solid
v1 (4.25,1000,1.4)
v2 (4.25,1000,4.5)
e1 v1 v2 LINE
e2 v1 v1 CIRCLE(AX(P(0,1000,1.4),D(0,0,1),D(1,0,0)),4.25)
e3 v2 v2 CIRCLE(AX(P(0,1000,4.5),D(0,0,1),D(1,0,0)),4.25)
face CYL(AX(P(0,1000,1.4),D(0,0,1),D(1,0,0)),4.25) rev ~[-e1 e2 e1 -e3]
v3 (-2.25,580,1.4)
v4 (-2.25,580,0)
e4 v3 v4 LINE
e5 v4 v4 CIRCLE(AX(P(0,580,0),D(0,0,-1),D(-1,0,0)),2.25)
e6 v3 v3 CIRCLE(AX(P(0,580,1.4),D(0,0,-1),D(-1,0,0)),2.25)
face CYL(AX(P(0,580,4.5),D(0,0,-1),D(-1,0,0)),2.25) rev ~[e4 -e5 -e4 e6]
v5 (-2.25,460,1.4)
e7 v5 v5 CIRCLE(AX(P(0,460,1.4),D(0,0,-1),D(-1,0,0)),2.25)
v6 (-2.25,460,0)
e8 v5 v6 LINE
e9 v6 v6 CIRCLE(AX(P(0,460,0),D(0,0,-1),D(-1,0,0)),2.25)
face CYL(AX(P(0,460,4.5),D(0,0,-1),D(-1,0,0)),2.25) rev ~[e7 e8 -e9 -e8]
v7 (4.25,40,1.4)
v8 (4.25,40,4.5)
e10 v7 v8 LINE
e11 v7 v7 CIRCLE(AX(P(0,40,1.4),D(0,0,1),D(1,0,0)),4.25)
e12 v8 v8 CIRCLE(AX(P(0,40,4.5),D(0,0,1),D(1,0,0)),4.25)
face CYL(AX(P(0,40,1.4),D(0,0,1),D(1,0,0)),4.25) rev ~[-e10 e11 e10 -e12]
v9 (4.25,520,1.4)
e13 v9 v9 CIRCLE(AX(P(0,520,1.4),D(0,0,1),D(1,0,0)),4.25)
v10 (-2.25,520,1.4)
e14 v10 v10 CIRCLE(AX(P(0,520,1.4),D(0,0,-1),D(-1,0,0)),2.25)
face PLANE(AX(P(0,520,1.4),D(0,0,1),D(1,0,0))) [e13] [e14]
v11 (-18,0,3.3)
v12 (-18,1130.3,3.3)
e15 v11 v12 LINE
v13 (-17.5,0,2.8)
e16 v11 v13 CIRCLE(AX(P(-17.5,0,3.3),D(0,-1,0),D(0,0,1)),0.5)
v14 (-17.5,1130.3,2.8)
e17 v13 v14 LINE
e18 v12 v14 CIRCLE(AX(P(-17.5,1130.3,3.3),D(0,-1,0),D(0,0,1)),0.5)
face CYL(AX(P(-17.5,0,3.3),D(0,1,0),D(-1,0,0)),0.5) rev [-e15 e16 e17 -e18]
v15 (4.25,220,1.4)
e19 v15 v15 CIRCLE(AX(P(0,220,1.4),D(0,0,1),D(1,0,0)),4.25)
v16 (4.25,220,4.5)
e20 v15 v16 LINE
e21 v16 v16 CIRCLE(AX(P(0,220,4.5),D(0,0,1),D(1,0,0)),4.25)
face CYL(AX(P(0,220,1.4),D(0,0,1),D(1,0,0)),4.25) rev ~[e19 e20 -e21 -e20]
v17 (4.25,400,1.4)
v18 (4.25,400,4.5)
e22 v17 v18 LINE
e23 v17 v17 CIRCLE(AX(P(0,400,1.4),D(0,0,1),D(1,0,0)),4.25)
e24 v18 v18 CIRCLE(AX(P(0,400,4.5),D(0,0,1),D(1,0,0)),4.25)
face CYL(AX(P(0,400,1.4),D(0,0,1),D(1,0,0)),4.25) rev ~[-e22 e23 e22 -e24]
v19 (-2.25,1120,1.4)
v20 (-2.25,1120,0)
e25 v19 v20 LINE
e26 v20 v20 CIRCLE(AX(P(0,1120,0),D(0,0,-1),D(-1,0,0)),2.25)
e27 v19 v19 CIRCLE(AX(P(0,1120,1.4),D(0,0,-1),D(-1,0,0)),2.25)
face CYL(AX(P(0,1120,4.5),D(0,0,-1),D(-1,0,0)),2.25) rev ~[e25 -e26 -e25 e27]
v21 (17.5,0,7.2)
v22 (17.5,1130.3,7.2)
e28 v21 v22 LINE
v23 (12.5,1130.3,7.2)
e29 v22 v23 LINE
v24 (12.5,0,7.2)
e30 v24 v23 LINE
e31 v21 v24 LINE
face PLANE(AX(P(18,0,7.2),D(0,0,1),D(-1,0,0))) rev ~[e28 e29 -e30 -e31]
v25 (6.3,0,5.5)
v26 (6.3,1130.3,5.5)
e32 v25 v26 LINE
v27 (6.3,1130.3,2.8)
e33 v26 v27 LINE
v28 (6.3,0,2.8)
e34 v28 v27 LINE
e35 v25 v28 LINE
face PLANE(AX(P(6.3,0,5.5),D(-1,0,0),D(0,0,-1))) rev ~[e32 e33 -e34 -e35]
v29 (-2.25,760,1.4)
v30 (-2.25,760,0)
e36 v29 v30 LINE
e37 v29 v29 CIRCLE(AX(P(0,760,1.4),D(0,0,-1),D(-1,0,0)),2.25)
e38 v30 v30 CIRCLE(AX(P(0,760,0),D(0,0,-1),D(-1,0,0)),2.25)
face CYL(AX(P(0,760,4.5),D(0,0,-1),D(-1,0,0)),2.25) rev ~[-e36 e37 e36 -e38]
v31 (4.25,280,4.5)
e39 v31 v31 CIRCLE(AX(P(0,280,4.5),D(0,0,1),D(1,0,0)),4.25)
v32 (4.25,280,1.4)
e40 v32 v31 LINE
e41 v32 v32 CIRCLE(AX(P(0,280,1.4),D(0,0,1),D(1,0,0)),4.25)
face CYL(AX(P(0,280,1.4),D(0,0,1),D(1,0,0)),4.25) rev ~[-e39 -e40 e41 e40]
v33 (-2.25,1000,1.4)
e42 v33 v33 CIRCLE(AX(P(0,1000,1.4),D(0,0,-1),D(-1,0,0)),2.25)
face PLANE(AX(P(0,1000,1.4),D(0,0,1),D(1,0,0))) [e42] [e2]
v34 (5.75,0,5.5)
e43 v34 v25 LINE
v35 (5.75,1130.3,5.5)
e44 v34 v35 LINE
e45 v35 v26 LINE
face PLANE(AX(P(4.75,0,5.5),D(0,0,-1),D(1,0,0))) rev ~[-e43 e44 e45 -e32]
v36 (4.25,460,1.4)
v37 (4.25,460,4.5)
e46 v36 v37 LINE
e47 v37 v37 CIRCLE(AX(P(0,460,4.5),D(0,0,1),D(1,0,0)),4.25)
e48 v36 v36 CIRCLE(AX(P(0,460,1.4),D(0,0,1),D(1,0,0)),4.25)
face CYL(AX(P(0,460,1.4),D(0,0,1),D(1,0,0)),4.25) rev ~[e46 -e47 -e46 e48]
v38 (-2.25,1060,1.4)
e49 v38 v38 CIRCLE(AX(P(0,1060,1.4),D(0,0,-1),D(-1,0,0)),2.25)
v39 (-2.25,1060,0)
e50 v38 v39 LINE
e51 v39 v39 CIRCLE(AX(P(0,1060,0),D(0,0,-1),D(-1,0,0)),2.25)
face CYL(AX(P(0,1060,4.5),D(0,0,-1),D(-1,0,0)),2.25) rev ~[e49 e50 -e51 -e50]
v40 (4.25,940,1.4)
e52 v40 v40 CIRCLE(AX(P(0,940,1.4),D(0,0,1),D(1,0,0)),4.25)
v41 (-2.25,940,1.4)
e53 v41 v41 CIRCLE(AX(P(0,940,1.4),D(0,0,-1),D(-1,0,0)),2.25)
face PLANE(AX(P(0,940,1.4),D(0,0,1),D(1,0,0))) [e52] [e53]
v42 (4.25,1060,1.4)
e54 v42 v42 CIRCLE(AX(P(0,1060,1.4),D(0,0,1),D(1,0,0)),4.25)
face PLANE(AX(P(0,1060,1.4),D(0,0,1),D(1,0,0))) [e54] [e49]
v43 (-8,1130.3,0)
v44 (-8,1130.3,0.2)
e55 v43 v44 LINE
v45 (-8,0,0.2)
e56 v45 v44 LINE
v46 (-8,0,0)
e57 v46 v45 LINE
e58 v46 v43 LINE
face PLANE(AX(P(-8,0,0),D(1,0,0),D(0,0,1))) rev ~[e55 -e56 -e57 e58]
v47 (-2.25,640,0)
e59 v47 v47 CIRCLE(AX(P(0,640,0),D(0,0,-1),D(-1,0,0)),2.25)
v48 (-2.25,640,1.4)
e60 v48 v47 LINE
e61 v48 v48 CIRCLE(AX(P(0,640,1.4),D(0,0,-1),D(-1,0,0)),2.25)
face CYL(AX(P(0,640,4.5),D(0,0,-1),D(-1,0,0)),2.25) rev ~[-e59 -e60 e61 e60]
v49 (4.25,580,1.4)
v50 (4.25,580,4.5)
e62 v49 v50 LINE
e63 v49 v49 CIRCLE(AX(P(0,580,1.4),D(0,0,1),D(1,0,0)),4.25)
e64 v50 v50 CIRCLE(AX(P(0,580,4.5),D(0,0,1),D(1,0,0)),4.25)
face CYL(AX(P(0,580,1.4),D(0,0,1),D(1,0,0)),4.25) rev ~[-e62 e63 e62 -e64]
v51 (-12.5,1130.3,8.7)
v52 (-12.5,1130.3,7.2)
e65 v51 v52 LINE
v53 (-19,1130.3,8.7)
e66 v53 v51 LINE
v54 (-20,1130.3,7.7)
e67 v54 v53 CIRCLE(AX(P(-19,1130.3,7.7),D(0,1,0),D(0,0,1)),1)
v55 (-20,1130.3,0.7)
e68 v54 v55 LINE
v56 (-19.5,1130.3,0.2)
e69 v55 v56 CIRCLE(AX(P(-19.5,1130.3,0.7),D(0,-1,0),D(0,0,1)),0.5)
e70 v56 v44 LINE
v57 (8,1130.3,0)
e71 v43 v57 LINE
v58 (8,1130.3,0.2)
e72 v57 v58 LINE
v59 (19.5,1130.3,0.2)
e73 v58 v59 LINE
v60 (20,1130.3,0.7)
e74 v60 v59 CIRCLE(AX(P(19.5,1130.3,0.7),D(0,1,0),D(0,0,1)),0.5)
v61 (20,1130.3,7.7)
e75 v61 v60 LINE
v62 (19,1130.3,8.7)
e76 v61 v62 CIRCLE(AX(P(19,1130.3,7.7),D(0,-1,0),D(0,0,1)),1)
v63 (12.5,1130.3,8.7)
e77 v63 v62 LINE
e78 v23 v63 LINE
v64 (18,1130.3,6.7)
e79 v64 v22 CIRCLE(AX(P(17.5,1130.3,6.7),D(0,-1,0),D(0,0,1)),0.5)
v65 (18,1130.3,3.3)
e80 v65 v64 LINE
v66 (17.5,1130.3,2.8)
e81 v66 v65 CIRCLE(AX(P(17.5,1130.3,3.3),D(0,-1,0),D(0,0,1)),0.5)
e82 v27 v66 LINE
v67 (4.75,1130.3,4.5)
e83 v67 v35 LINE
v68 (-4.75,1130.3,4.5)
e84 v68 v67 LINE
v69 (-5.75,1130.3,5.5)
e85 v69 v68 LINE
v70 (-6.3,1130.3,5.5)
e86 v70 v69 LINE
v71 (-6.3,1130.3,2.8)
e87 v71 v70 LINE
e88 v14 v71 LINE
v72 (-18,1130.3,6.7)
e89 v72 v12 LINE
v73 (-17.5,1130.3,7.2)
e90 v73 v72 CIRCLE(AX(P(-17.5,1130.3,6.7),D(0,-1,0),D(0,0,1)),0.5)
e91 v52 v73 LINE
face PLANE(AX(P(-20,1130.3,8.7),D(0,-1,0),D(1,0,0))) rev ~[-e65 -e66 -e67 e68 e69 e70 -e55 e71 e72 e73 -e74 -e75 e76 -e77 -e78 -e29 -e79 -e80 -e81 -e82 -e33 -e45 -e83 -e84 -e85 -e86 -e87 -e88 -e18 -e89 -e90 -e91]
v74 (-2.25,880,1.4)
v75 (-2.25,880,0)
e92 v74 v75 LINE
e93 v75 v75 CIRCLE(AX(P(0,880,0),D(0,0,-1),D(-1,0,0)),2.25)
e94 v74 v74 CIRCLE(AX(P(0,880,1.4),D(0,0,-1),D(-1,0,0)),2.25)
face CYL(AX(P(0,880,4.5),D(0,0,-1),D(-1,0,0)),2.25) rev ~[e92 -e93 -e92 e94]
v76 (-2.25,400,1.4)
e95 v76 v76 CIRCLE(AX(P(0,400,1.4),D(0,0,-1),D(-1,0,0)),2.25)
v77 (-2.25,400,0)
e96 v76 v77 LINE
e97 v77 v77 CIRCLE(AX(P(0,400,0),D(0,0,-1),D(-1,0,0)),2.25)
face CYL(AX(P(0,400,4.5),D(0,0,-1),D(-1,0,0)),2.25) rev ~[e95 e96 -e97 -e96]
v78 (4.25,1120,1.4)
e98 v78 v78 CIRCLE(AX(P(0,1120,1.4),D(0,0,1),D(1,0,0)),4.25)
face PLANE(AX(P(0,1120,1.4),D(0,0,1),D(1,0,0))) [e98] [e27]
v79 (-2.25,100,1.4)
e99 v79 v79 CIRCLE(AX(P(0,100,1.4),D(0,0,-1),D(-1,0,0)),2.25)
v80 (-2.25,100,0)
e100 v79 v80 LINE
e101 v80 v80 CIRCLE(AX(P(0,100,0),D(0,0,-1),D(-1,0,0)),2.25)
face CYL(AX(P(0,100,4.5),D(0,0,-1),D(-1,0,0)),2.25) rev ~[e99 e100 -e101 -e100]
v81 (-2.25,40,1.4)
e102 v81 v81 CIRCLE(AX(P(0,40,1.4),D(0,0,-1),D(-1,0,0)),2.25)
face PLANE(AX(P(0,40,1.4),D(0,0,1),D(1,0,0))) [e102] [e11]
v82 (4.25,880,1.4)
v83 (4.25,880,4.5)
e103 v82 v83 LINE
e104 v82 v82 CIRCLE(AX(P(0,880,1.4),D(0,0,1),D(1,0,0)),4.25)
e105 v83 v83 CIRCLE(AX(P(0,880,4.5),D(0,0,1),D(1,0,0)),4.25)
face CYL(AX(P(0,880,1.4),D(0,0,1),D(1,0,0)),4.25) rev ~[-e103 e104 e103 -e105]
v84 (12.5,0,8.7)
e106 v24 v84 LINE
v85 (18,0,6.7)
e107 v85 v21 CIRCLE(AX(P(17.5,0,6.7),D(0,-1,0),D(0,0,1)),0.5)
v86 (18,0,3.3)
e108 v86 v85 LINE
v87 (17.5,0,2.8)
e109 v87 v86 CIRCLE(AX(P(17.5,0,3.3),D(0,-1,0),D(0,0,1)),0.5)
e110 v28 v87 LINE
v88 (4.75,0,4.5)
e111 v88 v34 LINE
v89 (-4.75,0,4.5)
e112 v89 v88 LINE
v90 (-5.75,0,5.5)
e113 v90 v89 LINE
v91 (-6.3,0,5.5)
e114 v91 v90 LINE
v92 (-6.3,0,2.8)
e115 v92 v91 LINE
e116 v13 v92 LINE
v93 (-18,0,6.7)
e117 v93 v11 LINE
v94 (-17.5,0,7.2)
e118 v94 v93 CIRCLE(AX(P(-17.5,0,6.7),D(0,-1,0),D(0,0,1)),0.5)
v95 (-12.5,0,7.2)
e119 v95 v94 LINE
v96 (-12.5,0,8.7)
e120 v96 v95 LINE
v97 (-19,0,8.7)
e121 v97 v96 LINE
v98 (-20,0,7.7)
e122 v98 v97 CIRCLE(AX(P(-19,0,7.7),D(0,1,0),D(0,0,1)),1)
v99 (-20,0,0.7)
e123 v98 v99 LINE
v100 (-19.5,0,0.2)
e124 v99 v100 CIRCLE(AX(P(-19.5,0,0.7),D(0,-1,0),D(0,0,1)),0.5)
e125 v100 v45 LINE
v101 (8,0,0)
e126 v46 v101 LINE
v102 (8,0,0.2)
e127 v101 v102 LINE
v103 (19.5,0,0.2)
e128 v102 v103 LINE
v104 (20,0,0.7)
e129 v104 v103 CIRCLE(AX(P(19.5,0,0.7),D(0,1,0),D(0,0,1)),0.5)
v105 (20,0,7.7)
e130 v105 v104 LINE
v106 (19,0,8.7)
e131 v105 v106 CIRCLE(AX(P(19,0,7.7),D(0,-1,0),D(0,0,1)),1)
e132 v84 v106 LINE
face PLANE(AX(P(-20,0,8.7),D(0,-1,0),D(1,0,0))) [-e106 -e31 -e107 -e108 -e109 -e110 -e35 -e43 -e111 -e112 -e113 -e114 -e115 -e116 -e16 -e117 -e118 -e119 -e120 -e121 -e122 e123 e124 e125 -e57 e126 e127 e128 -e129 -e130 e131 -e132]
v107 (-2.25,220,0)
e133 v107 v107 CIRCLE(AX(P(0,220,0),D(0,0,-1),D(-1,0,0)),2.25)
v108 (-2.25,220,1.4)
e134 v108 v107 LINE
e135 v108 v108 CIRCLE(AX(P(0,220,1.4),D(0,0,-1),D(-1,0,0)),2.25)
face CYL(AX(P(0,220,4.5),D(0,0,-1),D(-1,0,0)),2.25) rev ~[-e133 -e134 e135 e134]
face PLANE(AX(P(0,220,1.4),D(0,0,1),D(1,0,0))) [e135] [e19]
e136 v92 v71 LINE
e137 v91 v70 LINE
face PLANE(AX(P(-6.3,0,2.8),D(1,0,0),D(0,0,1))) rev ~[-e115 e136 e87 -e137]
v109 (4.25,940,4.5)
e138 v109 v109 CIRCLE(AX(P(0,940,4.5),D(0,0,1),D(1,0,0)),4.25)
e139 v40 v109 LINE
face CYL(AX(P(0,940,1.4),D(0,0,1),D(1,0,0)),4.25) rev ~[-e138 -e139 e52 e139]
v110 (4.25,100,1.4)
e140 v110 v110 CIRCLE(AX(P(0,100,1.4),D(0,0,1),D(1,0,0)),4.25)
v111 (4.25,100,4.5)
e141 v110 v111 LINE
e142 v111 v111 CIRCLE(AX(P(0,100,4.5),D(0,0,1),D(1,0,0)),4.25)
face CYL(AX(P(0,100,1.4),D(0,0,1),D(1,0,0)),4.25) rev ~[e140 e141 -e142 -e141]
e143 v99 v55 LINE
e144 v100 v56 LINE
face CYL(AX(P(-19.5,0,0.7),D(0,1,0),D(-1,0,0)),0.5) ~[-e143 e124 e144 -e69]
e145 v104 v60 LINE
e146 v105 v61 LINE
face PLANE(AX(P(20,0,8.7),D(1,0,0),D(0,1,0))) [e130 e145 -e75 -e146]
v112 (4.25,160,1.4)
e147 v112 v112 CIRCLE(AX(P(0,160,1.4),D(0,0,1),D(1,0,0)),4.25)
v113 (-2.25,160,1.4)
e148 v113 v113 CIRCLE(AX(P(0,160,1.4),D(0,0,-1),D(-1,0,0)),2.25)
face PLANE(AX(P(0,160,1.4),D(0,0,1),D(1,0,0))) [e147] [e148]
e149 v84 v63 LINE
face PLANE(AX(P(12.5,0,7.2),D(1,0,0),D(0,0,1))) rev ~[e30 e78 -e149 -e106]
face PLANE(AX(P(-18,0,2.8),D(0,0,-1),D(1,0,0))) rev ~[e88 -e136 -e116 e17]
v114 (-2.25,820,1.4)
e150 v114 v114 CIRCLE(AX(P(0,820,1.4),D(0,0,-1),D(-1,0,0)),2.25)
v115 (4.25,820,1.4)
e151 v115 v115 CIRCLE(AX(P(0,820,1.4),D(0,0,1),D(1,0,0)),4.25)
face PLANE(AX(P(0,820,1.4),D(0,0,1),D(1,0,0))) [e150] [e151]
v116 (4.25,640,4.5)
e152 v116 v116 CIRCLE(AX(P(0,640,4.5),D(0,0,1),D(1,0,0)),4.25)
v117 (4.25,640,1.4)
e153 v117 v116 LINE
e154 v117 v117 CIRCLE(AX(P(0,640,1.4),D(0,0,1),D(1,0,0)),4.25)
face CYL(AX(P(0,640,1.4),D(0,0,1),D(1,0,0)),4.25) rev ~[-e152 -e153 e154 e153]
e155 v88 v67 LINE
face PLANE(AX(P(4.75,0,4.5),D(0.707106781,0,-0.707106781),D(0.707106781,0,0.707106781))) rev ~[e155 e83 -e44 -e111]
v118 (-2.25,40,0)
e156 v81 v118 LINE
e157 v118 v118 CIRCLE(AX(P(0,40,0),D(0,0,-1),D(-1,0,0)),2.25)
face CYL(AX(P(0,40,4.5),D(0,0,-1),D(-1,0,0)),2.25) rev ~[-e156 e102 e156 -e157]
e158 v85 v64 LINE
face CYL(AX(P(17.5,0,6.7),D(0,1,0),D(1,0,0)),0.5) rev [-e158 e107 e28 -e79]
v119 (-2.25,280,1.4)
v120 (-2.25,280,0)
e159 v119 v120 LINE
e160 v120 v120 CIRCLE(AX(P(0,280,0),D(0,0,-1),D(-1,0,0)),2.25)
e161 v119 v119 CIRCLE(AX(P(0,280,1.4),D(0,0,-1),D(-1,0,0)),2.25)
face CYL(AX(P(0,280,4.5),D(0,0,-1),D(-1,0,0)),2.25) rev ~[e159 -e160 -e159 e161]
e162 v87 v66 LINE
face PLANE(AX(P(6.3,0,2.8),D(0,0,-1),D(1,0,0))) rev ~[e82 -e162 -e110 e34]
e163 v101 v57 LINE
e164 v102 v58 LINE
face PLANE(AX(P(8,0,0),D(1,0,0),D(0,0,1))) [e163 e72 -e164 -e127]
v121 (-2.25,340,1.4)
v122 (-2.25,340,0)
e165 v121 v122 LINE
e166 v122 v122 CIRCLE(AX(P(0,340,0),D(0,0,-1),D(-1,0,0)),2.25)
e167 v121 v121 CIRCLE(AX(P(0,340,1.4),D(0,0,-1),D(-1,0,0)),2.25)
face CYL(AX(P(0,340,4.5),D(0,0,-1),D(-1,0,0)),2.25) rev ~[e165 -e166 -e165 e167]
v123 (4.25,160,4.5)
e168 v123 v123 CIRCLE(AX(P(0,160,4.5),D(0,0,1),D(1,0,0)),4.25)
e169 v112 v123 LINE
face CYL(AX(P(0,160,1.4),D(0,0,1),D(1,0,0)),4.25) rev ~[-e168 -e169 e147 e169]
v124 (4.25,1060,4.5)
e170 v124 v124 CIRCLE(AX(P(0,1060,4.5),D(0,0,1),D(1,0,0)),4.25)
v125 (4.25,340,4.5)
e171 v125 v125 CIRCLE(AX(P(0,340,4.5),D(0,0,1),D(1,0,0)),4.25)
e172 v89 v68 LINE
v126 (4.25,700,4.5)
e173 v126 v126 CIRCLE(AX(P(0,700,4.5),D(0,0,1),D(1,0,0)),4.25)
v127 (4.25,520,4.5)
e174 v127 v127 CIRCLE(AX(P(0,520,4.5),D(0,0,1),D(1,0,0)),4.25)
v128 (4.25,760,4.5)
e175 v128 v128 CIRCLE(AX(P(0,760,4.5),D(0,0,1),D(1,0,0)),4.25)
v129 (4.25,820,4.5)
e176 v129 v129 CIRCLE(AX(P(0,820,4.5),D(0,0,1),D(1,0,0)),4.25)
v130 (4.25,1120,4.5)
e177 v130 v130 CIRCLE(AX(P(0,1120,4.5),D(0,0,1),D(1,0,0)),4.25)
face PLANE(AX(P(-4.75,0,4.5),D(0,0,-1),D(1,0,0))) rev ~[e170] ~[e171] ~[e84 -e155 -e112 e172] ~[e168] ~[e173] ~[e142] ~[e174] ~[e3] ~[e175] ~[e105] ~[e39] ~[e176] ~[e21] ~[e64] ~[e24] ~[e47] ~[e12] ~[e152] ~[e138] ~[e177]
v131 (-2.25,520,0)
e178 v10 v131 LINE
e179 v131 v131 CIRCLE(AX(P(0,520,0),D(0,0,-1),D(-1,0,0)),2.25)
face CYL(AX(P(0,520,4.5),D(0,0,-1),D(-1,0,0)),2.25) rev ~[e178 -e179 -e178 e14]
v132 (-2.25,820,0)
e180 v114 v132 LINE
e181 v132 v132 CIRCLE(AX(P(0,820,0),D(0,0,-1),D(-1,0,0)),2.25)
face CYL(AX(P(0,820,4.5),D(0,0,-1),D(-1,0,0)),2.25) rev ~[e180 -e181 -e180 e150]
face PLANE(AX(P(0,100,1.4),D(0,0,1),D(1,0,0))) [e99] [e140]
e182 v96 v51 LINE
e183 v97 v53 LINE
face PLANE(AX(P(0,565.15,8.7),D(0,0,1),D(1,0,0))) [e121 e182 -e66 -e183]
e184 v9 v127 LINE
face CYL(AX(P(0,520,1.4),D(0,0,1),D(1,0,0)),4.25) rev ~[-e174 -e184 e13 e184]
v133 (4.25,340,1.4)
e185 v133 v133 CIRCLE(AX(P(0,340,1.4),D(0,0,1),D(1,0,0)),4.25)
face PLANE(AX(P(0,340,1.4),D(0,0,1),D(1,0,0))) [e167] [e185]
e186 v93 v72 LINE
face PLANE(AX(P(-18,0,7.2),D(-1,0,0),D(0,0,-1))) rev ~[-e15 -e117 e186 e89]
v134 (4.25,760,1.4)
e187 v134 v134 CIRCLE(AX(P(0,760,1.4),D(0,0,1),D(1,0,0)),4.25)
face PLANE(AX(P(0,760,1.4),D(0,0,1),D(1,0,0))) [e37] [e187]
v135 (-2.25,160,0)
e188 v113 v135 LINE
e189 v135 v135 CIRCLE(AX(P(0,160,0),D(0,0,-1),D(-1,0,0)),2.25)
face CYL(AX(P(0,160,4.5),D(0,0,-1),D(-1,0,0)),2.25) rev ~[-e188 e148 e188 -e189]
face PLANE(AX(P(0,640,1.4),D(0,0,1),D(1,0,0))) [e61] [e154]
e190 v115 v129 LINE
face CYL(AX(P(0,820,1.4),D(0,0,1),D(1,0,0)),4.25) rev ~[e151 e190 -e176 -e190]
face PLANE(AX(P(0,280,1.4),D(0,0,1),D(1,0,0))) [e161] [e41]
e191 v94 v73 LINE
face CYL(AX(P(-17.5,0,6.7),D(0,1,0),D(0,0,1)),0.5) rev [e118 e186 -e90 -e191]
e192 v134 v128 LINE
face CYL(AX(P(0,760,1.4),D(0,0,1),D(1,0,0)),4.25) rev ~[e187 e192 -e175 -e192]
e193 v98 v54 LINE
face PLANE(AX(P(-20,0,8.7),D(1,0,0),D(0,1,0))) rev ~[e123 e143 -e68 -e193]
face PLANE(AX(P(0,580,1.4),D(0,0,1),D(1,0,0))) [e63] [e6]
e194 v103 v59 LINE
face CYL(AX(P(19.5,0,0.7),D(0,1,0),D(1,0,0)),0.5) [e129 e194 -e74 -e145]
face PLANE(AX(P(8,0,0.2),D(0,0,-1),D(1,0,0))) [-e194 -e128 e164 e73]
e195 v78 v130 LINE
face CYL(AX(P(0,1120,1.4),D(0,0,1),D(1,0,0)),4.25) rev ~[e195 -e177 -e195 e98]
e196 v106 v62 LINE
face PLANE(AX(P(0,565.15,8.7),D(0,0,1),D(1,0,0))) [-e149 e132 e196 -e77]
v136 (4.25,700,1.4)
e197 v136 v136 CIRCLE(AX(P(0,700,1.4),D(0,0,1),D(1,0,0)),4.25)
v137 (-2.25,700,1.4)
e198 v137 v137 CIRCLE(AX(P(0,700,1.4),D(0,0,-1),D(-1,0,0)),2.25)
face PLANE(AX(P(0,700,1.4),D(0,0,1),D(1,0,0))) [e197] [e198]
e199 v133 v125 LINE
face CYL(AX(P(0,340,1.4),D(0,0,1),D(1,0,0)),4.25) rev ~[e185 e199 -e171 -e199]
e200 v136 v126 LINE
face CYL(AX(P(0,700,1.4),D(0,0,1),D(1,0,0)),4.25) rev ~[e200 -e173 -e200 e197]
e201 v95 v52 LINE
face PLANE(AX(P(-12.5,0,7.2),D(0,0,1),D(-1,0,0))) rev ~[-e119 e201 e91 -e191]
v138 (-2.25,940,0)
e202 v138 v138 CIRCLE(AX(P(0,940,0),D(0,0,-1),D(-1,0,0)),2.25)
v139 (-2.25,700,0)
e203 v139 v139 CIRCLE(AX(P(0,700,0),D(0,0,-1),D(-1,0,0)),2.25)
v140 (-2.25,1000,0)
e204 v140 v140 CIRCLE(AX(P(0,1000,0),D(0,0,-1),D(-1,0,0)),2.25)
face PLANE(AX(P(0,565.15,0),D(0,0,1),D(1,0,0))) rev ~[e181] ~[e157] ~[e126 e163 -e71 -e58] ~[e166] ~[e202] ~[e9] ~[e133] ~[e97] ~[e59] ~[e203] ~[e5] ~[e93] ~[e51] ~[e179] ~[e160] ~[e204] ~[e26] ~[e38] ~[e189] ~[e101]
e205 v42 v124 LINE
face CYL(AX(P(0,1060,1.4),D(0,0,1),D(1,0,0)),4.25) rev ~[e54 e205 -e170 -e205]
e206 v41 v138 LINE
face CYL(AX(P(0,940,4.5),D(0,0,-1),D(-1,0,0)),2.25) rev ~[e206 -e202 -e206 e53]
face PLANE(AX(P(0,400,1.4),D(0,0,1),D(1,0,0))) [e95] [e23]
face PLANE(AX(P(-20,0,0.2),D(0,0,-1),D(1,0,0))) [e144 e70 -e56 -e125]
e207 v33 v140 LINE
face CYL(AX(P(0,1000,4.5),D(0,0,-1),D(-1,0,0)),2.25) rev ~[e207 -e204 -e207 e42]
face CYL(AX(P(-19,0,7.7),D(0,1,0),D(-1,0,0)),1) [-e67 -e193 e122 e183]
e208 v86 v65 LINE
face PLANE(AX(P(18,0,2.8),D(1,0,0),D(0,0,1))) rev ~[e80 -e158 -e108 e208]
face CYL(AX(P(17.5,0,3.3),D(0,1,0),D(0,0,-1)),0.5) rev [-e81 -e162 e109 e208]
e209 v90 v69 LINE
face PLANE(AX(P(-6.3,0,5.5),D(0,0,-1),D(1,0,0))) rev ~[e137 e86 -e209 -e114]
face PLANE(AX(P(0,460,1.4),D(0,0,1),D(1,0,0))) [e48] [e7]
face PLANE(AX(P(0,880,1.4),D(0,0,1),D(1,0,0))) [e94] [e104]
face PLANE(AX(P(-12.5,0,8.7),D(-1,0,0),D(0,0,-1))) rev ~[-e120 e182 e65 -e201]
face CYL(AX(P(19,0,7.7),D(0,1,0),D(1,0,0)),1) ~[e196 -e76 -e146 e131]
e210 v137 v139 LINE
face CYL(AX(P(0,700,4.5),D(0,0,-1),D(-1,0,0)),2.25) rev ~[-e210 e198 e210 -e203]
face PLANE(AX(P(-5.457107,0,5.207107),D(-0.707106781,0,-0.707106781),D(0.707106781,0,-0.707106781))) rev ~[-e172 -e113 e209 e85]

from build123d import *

# Parameters (mm, degrees)
SKETCH1_W                                        = 40
SKETCH1_H                                        = 1130.3
BOSS_EXTRUDE1_DEPTH                              = 8.7
CUT_EXTRUDE1_DEPTH                               = 1131.3
SKETCH3_W                                        = 12
SKETCH3_H                                        = 0.2
CUT_EXTRUDE2_DEPTH                               = 1131.3
SKETCH4_W                                        = 12
SKETCH4_H                                        = 0.2
CUT_EXTRUDE3_DEPTH                               = 1131.3
DRAFT1_ANGLE                                     = 45
CBORE_FOR_M4_HEX_HEAD_MACHINE_SCREW1_D           = 4.5
CBORE_FOR_M4_HEX_HEAD_MACHINE_SCREW1_DEPTH       = 4.5
CBORE_FOR_M4_HEX_HEAD_MACHINE_SCREW1_CBORE_D     = 8.5
CBORE_FOR_M4_HEX_HEAD_MACHINE_SCREW1_CBORE_DEPTH = 3.1
FILLET1_R                                        = 0.5
FILLET2_R                                        = 1


with BuildPart() as part:
    # Sketch1 → Boss-Extrude1 (new body)
    with BuildSketch(Plane.XY.offset(8.7)):
        with Locations((0, 565.15)):
            Rectangle(SKETCH1_W, SKETCH1_H)
    extrude(amount=-BOSS_EXTRUDE1_DEPTH)

    # Sketch2 → Cut-Extrude1 (cut, through all)
    with BuildSketch(Plane.XZ):
        Polygon((12.5, 8.7), (-12.5, 8.7), (-12.5, 7.2), (-18, 7.2), (-18, 2.8), (-6.3, 2.8), (-6.3, 5.5), (-4.75, 5.5), (-4.75, 4.5), (4.75, 4.5), (4.75, 5.5), (6.3, 5.5), (6.3, 2.8), (18, 2.8), (18, 7.2), (12.5, 7.2), align=None)
    extrude(amount=-CUT_EXTRUDE1_DEPTH, mode=Mode.SUBTRACT)

    # Sketch3 → Cut-Extrude2 (cut, through all)
    with BuildSketch(Plane.XZ):
        with Locations((14, 0.1)):
            Rectangle(SKETCH3_W, SKETCH3_H)
    extrude(amount=-CUT_EXTRUDE2_DEPTH, mode=Mode.SUBTRACT)

    # Sketch4 → Cut-Extrude3 (cut, through all)
    with BuildSketch(Plane.XZ):
        with Locations((-14, 0.1)):
            Rectangle(SKETCH4_W, SKETCH4_H)
    extrude(amount=-CUT_EXTRUDE3_DEPTH, mode=Mode.SUBTRACT)

    # Draft1
    draft1_faces = [part.faces().sort_by_distance(p)[0] for p in [
        (4.75, 565.15, 5),
        (-4.75, 565.15, 5),
    ]]
    draft(draft1_faces, Plane(origin=(-4.75, 1130.3, 4.5), x_dir=(1, 0, 0), z_dir=(0, 0, 1)), DRAFT1_ANGLE)

    # CBORE for M4 Hex Head Machine Screw1
    with Locations(Plane.XY.offset(4.5)):
        with Locations((0, 160), (0, 100), (0, 40), (0, 220), (0, 280), (0, 340), (0, 400), (0, 460), (0, 520), (0, 580), (0, 640), (0, 700), (0, 760), (0, 820), (0, 880), (0, 940), (0, 1000), (0, 1060), (0, 1120), (0, 1180)):
            CounterBoreHole(CBORE_FOR_M4_HEX_HEAD_MACHINE_SCREW1_D / 2, CBORE_FOR_M4_HEX_HEAD_MACHINE_SCREW1_CBORE_D / 2, CBORE_FOR_M4_HEX_HEAD_MACHINE_SCREW1_CBORE_DEPTH, depth=CBORE_FOR_M4_HEX_HEAD_MACHINE_SCREW1_DEPTH)

    # Fillet1
    fillet1_edges = [part.edges().sort_by_distance(p)[0] for p in [
        (18, 565.15, 7.2),
        (18, 565.15, 2.8),
        (-18, 565.15, 2.8),
        (-18, 565.15, 7.2),
        (20, 565.15, 0.2),
        (-20, 565.15, 0.2),
    ]]
    fillet(fillet1_edges, radius=FILLET1_R)

    # Fillet2
    fillet2_edges = [part.edges().sort_by_distance(p)[0] for p in [
        (20, 565.15, 8.7),
        (-20, 565.15, 8.7),
    ]]
    fillet(fillet2_edges, radius=FILLET2_R)


solid = part.part
